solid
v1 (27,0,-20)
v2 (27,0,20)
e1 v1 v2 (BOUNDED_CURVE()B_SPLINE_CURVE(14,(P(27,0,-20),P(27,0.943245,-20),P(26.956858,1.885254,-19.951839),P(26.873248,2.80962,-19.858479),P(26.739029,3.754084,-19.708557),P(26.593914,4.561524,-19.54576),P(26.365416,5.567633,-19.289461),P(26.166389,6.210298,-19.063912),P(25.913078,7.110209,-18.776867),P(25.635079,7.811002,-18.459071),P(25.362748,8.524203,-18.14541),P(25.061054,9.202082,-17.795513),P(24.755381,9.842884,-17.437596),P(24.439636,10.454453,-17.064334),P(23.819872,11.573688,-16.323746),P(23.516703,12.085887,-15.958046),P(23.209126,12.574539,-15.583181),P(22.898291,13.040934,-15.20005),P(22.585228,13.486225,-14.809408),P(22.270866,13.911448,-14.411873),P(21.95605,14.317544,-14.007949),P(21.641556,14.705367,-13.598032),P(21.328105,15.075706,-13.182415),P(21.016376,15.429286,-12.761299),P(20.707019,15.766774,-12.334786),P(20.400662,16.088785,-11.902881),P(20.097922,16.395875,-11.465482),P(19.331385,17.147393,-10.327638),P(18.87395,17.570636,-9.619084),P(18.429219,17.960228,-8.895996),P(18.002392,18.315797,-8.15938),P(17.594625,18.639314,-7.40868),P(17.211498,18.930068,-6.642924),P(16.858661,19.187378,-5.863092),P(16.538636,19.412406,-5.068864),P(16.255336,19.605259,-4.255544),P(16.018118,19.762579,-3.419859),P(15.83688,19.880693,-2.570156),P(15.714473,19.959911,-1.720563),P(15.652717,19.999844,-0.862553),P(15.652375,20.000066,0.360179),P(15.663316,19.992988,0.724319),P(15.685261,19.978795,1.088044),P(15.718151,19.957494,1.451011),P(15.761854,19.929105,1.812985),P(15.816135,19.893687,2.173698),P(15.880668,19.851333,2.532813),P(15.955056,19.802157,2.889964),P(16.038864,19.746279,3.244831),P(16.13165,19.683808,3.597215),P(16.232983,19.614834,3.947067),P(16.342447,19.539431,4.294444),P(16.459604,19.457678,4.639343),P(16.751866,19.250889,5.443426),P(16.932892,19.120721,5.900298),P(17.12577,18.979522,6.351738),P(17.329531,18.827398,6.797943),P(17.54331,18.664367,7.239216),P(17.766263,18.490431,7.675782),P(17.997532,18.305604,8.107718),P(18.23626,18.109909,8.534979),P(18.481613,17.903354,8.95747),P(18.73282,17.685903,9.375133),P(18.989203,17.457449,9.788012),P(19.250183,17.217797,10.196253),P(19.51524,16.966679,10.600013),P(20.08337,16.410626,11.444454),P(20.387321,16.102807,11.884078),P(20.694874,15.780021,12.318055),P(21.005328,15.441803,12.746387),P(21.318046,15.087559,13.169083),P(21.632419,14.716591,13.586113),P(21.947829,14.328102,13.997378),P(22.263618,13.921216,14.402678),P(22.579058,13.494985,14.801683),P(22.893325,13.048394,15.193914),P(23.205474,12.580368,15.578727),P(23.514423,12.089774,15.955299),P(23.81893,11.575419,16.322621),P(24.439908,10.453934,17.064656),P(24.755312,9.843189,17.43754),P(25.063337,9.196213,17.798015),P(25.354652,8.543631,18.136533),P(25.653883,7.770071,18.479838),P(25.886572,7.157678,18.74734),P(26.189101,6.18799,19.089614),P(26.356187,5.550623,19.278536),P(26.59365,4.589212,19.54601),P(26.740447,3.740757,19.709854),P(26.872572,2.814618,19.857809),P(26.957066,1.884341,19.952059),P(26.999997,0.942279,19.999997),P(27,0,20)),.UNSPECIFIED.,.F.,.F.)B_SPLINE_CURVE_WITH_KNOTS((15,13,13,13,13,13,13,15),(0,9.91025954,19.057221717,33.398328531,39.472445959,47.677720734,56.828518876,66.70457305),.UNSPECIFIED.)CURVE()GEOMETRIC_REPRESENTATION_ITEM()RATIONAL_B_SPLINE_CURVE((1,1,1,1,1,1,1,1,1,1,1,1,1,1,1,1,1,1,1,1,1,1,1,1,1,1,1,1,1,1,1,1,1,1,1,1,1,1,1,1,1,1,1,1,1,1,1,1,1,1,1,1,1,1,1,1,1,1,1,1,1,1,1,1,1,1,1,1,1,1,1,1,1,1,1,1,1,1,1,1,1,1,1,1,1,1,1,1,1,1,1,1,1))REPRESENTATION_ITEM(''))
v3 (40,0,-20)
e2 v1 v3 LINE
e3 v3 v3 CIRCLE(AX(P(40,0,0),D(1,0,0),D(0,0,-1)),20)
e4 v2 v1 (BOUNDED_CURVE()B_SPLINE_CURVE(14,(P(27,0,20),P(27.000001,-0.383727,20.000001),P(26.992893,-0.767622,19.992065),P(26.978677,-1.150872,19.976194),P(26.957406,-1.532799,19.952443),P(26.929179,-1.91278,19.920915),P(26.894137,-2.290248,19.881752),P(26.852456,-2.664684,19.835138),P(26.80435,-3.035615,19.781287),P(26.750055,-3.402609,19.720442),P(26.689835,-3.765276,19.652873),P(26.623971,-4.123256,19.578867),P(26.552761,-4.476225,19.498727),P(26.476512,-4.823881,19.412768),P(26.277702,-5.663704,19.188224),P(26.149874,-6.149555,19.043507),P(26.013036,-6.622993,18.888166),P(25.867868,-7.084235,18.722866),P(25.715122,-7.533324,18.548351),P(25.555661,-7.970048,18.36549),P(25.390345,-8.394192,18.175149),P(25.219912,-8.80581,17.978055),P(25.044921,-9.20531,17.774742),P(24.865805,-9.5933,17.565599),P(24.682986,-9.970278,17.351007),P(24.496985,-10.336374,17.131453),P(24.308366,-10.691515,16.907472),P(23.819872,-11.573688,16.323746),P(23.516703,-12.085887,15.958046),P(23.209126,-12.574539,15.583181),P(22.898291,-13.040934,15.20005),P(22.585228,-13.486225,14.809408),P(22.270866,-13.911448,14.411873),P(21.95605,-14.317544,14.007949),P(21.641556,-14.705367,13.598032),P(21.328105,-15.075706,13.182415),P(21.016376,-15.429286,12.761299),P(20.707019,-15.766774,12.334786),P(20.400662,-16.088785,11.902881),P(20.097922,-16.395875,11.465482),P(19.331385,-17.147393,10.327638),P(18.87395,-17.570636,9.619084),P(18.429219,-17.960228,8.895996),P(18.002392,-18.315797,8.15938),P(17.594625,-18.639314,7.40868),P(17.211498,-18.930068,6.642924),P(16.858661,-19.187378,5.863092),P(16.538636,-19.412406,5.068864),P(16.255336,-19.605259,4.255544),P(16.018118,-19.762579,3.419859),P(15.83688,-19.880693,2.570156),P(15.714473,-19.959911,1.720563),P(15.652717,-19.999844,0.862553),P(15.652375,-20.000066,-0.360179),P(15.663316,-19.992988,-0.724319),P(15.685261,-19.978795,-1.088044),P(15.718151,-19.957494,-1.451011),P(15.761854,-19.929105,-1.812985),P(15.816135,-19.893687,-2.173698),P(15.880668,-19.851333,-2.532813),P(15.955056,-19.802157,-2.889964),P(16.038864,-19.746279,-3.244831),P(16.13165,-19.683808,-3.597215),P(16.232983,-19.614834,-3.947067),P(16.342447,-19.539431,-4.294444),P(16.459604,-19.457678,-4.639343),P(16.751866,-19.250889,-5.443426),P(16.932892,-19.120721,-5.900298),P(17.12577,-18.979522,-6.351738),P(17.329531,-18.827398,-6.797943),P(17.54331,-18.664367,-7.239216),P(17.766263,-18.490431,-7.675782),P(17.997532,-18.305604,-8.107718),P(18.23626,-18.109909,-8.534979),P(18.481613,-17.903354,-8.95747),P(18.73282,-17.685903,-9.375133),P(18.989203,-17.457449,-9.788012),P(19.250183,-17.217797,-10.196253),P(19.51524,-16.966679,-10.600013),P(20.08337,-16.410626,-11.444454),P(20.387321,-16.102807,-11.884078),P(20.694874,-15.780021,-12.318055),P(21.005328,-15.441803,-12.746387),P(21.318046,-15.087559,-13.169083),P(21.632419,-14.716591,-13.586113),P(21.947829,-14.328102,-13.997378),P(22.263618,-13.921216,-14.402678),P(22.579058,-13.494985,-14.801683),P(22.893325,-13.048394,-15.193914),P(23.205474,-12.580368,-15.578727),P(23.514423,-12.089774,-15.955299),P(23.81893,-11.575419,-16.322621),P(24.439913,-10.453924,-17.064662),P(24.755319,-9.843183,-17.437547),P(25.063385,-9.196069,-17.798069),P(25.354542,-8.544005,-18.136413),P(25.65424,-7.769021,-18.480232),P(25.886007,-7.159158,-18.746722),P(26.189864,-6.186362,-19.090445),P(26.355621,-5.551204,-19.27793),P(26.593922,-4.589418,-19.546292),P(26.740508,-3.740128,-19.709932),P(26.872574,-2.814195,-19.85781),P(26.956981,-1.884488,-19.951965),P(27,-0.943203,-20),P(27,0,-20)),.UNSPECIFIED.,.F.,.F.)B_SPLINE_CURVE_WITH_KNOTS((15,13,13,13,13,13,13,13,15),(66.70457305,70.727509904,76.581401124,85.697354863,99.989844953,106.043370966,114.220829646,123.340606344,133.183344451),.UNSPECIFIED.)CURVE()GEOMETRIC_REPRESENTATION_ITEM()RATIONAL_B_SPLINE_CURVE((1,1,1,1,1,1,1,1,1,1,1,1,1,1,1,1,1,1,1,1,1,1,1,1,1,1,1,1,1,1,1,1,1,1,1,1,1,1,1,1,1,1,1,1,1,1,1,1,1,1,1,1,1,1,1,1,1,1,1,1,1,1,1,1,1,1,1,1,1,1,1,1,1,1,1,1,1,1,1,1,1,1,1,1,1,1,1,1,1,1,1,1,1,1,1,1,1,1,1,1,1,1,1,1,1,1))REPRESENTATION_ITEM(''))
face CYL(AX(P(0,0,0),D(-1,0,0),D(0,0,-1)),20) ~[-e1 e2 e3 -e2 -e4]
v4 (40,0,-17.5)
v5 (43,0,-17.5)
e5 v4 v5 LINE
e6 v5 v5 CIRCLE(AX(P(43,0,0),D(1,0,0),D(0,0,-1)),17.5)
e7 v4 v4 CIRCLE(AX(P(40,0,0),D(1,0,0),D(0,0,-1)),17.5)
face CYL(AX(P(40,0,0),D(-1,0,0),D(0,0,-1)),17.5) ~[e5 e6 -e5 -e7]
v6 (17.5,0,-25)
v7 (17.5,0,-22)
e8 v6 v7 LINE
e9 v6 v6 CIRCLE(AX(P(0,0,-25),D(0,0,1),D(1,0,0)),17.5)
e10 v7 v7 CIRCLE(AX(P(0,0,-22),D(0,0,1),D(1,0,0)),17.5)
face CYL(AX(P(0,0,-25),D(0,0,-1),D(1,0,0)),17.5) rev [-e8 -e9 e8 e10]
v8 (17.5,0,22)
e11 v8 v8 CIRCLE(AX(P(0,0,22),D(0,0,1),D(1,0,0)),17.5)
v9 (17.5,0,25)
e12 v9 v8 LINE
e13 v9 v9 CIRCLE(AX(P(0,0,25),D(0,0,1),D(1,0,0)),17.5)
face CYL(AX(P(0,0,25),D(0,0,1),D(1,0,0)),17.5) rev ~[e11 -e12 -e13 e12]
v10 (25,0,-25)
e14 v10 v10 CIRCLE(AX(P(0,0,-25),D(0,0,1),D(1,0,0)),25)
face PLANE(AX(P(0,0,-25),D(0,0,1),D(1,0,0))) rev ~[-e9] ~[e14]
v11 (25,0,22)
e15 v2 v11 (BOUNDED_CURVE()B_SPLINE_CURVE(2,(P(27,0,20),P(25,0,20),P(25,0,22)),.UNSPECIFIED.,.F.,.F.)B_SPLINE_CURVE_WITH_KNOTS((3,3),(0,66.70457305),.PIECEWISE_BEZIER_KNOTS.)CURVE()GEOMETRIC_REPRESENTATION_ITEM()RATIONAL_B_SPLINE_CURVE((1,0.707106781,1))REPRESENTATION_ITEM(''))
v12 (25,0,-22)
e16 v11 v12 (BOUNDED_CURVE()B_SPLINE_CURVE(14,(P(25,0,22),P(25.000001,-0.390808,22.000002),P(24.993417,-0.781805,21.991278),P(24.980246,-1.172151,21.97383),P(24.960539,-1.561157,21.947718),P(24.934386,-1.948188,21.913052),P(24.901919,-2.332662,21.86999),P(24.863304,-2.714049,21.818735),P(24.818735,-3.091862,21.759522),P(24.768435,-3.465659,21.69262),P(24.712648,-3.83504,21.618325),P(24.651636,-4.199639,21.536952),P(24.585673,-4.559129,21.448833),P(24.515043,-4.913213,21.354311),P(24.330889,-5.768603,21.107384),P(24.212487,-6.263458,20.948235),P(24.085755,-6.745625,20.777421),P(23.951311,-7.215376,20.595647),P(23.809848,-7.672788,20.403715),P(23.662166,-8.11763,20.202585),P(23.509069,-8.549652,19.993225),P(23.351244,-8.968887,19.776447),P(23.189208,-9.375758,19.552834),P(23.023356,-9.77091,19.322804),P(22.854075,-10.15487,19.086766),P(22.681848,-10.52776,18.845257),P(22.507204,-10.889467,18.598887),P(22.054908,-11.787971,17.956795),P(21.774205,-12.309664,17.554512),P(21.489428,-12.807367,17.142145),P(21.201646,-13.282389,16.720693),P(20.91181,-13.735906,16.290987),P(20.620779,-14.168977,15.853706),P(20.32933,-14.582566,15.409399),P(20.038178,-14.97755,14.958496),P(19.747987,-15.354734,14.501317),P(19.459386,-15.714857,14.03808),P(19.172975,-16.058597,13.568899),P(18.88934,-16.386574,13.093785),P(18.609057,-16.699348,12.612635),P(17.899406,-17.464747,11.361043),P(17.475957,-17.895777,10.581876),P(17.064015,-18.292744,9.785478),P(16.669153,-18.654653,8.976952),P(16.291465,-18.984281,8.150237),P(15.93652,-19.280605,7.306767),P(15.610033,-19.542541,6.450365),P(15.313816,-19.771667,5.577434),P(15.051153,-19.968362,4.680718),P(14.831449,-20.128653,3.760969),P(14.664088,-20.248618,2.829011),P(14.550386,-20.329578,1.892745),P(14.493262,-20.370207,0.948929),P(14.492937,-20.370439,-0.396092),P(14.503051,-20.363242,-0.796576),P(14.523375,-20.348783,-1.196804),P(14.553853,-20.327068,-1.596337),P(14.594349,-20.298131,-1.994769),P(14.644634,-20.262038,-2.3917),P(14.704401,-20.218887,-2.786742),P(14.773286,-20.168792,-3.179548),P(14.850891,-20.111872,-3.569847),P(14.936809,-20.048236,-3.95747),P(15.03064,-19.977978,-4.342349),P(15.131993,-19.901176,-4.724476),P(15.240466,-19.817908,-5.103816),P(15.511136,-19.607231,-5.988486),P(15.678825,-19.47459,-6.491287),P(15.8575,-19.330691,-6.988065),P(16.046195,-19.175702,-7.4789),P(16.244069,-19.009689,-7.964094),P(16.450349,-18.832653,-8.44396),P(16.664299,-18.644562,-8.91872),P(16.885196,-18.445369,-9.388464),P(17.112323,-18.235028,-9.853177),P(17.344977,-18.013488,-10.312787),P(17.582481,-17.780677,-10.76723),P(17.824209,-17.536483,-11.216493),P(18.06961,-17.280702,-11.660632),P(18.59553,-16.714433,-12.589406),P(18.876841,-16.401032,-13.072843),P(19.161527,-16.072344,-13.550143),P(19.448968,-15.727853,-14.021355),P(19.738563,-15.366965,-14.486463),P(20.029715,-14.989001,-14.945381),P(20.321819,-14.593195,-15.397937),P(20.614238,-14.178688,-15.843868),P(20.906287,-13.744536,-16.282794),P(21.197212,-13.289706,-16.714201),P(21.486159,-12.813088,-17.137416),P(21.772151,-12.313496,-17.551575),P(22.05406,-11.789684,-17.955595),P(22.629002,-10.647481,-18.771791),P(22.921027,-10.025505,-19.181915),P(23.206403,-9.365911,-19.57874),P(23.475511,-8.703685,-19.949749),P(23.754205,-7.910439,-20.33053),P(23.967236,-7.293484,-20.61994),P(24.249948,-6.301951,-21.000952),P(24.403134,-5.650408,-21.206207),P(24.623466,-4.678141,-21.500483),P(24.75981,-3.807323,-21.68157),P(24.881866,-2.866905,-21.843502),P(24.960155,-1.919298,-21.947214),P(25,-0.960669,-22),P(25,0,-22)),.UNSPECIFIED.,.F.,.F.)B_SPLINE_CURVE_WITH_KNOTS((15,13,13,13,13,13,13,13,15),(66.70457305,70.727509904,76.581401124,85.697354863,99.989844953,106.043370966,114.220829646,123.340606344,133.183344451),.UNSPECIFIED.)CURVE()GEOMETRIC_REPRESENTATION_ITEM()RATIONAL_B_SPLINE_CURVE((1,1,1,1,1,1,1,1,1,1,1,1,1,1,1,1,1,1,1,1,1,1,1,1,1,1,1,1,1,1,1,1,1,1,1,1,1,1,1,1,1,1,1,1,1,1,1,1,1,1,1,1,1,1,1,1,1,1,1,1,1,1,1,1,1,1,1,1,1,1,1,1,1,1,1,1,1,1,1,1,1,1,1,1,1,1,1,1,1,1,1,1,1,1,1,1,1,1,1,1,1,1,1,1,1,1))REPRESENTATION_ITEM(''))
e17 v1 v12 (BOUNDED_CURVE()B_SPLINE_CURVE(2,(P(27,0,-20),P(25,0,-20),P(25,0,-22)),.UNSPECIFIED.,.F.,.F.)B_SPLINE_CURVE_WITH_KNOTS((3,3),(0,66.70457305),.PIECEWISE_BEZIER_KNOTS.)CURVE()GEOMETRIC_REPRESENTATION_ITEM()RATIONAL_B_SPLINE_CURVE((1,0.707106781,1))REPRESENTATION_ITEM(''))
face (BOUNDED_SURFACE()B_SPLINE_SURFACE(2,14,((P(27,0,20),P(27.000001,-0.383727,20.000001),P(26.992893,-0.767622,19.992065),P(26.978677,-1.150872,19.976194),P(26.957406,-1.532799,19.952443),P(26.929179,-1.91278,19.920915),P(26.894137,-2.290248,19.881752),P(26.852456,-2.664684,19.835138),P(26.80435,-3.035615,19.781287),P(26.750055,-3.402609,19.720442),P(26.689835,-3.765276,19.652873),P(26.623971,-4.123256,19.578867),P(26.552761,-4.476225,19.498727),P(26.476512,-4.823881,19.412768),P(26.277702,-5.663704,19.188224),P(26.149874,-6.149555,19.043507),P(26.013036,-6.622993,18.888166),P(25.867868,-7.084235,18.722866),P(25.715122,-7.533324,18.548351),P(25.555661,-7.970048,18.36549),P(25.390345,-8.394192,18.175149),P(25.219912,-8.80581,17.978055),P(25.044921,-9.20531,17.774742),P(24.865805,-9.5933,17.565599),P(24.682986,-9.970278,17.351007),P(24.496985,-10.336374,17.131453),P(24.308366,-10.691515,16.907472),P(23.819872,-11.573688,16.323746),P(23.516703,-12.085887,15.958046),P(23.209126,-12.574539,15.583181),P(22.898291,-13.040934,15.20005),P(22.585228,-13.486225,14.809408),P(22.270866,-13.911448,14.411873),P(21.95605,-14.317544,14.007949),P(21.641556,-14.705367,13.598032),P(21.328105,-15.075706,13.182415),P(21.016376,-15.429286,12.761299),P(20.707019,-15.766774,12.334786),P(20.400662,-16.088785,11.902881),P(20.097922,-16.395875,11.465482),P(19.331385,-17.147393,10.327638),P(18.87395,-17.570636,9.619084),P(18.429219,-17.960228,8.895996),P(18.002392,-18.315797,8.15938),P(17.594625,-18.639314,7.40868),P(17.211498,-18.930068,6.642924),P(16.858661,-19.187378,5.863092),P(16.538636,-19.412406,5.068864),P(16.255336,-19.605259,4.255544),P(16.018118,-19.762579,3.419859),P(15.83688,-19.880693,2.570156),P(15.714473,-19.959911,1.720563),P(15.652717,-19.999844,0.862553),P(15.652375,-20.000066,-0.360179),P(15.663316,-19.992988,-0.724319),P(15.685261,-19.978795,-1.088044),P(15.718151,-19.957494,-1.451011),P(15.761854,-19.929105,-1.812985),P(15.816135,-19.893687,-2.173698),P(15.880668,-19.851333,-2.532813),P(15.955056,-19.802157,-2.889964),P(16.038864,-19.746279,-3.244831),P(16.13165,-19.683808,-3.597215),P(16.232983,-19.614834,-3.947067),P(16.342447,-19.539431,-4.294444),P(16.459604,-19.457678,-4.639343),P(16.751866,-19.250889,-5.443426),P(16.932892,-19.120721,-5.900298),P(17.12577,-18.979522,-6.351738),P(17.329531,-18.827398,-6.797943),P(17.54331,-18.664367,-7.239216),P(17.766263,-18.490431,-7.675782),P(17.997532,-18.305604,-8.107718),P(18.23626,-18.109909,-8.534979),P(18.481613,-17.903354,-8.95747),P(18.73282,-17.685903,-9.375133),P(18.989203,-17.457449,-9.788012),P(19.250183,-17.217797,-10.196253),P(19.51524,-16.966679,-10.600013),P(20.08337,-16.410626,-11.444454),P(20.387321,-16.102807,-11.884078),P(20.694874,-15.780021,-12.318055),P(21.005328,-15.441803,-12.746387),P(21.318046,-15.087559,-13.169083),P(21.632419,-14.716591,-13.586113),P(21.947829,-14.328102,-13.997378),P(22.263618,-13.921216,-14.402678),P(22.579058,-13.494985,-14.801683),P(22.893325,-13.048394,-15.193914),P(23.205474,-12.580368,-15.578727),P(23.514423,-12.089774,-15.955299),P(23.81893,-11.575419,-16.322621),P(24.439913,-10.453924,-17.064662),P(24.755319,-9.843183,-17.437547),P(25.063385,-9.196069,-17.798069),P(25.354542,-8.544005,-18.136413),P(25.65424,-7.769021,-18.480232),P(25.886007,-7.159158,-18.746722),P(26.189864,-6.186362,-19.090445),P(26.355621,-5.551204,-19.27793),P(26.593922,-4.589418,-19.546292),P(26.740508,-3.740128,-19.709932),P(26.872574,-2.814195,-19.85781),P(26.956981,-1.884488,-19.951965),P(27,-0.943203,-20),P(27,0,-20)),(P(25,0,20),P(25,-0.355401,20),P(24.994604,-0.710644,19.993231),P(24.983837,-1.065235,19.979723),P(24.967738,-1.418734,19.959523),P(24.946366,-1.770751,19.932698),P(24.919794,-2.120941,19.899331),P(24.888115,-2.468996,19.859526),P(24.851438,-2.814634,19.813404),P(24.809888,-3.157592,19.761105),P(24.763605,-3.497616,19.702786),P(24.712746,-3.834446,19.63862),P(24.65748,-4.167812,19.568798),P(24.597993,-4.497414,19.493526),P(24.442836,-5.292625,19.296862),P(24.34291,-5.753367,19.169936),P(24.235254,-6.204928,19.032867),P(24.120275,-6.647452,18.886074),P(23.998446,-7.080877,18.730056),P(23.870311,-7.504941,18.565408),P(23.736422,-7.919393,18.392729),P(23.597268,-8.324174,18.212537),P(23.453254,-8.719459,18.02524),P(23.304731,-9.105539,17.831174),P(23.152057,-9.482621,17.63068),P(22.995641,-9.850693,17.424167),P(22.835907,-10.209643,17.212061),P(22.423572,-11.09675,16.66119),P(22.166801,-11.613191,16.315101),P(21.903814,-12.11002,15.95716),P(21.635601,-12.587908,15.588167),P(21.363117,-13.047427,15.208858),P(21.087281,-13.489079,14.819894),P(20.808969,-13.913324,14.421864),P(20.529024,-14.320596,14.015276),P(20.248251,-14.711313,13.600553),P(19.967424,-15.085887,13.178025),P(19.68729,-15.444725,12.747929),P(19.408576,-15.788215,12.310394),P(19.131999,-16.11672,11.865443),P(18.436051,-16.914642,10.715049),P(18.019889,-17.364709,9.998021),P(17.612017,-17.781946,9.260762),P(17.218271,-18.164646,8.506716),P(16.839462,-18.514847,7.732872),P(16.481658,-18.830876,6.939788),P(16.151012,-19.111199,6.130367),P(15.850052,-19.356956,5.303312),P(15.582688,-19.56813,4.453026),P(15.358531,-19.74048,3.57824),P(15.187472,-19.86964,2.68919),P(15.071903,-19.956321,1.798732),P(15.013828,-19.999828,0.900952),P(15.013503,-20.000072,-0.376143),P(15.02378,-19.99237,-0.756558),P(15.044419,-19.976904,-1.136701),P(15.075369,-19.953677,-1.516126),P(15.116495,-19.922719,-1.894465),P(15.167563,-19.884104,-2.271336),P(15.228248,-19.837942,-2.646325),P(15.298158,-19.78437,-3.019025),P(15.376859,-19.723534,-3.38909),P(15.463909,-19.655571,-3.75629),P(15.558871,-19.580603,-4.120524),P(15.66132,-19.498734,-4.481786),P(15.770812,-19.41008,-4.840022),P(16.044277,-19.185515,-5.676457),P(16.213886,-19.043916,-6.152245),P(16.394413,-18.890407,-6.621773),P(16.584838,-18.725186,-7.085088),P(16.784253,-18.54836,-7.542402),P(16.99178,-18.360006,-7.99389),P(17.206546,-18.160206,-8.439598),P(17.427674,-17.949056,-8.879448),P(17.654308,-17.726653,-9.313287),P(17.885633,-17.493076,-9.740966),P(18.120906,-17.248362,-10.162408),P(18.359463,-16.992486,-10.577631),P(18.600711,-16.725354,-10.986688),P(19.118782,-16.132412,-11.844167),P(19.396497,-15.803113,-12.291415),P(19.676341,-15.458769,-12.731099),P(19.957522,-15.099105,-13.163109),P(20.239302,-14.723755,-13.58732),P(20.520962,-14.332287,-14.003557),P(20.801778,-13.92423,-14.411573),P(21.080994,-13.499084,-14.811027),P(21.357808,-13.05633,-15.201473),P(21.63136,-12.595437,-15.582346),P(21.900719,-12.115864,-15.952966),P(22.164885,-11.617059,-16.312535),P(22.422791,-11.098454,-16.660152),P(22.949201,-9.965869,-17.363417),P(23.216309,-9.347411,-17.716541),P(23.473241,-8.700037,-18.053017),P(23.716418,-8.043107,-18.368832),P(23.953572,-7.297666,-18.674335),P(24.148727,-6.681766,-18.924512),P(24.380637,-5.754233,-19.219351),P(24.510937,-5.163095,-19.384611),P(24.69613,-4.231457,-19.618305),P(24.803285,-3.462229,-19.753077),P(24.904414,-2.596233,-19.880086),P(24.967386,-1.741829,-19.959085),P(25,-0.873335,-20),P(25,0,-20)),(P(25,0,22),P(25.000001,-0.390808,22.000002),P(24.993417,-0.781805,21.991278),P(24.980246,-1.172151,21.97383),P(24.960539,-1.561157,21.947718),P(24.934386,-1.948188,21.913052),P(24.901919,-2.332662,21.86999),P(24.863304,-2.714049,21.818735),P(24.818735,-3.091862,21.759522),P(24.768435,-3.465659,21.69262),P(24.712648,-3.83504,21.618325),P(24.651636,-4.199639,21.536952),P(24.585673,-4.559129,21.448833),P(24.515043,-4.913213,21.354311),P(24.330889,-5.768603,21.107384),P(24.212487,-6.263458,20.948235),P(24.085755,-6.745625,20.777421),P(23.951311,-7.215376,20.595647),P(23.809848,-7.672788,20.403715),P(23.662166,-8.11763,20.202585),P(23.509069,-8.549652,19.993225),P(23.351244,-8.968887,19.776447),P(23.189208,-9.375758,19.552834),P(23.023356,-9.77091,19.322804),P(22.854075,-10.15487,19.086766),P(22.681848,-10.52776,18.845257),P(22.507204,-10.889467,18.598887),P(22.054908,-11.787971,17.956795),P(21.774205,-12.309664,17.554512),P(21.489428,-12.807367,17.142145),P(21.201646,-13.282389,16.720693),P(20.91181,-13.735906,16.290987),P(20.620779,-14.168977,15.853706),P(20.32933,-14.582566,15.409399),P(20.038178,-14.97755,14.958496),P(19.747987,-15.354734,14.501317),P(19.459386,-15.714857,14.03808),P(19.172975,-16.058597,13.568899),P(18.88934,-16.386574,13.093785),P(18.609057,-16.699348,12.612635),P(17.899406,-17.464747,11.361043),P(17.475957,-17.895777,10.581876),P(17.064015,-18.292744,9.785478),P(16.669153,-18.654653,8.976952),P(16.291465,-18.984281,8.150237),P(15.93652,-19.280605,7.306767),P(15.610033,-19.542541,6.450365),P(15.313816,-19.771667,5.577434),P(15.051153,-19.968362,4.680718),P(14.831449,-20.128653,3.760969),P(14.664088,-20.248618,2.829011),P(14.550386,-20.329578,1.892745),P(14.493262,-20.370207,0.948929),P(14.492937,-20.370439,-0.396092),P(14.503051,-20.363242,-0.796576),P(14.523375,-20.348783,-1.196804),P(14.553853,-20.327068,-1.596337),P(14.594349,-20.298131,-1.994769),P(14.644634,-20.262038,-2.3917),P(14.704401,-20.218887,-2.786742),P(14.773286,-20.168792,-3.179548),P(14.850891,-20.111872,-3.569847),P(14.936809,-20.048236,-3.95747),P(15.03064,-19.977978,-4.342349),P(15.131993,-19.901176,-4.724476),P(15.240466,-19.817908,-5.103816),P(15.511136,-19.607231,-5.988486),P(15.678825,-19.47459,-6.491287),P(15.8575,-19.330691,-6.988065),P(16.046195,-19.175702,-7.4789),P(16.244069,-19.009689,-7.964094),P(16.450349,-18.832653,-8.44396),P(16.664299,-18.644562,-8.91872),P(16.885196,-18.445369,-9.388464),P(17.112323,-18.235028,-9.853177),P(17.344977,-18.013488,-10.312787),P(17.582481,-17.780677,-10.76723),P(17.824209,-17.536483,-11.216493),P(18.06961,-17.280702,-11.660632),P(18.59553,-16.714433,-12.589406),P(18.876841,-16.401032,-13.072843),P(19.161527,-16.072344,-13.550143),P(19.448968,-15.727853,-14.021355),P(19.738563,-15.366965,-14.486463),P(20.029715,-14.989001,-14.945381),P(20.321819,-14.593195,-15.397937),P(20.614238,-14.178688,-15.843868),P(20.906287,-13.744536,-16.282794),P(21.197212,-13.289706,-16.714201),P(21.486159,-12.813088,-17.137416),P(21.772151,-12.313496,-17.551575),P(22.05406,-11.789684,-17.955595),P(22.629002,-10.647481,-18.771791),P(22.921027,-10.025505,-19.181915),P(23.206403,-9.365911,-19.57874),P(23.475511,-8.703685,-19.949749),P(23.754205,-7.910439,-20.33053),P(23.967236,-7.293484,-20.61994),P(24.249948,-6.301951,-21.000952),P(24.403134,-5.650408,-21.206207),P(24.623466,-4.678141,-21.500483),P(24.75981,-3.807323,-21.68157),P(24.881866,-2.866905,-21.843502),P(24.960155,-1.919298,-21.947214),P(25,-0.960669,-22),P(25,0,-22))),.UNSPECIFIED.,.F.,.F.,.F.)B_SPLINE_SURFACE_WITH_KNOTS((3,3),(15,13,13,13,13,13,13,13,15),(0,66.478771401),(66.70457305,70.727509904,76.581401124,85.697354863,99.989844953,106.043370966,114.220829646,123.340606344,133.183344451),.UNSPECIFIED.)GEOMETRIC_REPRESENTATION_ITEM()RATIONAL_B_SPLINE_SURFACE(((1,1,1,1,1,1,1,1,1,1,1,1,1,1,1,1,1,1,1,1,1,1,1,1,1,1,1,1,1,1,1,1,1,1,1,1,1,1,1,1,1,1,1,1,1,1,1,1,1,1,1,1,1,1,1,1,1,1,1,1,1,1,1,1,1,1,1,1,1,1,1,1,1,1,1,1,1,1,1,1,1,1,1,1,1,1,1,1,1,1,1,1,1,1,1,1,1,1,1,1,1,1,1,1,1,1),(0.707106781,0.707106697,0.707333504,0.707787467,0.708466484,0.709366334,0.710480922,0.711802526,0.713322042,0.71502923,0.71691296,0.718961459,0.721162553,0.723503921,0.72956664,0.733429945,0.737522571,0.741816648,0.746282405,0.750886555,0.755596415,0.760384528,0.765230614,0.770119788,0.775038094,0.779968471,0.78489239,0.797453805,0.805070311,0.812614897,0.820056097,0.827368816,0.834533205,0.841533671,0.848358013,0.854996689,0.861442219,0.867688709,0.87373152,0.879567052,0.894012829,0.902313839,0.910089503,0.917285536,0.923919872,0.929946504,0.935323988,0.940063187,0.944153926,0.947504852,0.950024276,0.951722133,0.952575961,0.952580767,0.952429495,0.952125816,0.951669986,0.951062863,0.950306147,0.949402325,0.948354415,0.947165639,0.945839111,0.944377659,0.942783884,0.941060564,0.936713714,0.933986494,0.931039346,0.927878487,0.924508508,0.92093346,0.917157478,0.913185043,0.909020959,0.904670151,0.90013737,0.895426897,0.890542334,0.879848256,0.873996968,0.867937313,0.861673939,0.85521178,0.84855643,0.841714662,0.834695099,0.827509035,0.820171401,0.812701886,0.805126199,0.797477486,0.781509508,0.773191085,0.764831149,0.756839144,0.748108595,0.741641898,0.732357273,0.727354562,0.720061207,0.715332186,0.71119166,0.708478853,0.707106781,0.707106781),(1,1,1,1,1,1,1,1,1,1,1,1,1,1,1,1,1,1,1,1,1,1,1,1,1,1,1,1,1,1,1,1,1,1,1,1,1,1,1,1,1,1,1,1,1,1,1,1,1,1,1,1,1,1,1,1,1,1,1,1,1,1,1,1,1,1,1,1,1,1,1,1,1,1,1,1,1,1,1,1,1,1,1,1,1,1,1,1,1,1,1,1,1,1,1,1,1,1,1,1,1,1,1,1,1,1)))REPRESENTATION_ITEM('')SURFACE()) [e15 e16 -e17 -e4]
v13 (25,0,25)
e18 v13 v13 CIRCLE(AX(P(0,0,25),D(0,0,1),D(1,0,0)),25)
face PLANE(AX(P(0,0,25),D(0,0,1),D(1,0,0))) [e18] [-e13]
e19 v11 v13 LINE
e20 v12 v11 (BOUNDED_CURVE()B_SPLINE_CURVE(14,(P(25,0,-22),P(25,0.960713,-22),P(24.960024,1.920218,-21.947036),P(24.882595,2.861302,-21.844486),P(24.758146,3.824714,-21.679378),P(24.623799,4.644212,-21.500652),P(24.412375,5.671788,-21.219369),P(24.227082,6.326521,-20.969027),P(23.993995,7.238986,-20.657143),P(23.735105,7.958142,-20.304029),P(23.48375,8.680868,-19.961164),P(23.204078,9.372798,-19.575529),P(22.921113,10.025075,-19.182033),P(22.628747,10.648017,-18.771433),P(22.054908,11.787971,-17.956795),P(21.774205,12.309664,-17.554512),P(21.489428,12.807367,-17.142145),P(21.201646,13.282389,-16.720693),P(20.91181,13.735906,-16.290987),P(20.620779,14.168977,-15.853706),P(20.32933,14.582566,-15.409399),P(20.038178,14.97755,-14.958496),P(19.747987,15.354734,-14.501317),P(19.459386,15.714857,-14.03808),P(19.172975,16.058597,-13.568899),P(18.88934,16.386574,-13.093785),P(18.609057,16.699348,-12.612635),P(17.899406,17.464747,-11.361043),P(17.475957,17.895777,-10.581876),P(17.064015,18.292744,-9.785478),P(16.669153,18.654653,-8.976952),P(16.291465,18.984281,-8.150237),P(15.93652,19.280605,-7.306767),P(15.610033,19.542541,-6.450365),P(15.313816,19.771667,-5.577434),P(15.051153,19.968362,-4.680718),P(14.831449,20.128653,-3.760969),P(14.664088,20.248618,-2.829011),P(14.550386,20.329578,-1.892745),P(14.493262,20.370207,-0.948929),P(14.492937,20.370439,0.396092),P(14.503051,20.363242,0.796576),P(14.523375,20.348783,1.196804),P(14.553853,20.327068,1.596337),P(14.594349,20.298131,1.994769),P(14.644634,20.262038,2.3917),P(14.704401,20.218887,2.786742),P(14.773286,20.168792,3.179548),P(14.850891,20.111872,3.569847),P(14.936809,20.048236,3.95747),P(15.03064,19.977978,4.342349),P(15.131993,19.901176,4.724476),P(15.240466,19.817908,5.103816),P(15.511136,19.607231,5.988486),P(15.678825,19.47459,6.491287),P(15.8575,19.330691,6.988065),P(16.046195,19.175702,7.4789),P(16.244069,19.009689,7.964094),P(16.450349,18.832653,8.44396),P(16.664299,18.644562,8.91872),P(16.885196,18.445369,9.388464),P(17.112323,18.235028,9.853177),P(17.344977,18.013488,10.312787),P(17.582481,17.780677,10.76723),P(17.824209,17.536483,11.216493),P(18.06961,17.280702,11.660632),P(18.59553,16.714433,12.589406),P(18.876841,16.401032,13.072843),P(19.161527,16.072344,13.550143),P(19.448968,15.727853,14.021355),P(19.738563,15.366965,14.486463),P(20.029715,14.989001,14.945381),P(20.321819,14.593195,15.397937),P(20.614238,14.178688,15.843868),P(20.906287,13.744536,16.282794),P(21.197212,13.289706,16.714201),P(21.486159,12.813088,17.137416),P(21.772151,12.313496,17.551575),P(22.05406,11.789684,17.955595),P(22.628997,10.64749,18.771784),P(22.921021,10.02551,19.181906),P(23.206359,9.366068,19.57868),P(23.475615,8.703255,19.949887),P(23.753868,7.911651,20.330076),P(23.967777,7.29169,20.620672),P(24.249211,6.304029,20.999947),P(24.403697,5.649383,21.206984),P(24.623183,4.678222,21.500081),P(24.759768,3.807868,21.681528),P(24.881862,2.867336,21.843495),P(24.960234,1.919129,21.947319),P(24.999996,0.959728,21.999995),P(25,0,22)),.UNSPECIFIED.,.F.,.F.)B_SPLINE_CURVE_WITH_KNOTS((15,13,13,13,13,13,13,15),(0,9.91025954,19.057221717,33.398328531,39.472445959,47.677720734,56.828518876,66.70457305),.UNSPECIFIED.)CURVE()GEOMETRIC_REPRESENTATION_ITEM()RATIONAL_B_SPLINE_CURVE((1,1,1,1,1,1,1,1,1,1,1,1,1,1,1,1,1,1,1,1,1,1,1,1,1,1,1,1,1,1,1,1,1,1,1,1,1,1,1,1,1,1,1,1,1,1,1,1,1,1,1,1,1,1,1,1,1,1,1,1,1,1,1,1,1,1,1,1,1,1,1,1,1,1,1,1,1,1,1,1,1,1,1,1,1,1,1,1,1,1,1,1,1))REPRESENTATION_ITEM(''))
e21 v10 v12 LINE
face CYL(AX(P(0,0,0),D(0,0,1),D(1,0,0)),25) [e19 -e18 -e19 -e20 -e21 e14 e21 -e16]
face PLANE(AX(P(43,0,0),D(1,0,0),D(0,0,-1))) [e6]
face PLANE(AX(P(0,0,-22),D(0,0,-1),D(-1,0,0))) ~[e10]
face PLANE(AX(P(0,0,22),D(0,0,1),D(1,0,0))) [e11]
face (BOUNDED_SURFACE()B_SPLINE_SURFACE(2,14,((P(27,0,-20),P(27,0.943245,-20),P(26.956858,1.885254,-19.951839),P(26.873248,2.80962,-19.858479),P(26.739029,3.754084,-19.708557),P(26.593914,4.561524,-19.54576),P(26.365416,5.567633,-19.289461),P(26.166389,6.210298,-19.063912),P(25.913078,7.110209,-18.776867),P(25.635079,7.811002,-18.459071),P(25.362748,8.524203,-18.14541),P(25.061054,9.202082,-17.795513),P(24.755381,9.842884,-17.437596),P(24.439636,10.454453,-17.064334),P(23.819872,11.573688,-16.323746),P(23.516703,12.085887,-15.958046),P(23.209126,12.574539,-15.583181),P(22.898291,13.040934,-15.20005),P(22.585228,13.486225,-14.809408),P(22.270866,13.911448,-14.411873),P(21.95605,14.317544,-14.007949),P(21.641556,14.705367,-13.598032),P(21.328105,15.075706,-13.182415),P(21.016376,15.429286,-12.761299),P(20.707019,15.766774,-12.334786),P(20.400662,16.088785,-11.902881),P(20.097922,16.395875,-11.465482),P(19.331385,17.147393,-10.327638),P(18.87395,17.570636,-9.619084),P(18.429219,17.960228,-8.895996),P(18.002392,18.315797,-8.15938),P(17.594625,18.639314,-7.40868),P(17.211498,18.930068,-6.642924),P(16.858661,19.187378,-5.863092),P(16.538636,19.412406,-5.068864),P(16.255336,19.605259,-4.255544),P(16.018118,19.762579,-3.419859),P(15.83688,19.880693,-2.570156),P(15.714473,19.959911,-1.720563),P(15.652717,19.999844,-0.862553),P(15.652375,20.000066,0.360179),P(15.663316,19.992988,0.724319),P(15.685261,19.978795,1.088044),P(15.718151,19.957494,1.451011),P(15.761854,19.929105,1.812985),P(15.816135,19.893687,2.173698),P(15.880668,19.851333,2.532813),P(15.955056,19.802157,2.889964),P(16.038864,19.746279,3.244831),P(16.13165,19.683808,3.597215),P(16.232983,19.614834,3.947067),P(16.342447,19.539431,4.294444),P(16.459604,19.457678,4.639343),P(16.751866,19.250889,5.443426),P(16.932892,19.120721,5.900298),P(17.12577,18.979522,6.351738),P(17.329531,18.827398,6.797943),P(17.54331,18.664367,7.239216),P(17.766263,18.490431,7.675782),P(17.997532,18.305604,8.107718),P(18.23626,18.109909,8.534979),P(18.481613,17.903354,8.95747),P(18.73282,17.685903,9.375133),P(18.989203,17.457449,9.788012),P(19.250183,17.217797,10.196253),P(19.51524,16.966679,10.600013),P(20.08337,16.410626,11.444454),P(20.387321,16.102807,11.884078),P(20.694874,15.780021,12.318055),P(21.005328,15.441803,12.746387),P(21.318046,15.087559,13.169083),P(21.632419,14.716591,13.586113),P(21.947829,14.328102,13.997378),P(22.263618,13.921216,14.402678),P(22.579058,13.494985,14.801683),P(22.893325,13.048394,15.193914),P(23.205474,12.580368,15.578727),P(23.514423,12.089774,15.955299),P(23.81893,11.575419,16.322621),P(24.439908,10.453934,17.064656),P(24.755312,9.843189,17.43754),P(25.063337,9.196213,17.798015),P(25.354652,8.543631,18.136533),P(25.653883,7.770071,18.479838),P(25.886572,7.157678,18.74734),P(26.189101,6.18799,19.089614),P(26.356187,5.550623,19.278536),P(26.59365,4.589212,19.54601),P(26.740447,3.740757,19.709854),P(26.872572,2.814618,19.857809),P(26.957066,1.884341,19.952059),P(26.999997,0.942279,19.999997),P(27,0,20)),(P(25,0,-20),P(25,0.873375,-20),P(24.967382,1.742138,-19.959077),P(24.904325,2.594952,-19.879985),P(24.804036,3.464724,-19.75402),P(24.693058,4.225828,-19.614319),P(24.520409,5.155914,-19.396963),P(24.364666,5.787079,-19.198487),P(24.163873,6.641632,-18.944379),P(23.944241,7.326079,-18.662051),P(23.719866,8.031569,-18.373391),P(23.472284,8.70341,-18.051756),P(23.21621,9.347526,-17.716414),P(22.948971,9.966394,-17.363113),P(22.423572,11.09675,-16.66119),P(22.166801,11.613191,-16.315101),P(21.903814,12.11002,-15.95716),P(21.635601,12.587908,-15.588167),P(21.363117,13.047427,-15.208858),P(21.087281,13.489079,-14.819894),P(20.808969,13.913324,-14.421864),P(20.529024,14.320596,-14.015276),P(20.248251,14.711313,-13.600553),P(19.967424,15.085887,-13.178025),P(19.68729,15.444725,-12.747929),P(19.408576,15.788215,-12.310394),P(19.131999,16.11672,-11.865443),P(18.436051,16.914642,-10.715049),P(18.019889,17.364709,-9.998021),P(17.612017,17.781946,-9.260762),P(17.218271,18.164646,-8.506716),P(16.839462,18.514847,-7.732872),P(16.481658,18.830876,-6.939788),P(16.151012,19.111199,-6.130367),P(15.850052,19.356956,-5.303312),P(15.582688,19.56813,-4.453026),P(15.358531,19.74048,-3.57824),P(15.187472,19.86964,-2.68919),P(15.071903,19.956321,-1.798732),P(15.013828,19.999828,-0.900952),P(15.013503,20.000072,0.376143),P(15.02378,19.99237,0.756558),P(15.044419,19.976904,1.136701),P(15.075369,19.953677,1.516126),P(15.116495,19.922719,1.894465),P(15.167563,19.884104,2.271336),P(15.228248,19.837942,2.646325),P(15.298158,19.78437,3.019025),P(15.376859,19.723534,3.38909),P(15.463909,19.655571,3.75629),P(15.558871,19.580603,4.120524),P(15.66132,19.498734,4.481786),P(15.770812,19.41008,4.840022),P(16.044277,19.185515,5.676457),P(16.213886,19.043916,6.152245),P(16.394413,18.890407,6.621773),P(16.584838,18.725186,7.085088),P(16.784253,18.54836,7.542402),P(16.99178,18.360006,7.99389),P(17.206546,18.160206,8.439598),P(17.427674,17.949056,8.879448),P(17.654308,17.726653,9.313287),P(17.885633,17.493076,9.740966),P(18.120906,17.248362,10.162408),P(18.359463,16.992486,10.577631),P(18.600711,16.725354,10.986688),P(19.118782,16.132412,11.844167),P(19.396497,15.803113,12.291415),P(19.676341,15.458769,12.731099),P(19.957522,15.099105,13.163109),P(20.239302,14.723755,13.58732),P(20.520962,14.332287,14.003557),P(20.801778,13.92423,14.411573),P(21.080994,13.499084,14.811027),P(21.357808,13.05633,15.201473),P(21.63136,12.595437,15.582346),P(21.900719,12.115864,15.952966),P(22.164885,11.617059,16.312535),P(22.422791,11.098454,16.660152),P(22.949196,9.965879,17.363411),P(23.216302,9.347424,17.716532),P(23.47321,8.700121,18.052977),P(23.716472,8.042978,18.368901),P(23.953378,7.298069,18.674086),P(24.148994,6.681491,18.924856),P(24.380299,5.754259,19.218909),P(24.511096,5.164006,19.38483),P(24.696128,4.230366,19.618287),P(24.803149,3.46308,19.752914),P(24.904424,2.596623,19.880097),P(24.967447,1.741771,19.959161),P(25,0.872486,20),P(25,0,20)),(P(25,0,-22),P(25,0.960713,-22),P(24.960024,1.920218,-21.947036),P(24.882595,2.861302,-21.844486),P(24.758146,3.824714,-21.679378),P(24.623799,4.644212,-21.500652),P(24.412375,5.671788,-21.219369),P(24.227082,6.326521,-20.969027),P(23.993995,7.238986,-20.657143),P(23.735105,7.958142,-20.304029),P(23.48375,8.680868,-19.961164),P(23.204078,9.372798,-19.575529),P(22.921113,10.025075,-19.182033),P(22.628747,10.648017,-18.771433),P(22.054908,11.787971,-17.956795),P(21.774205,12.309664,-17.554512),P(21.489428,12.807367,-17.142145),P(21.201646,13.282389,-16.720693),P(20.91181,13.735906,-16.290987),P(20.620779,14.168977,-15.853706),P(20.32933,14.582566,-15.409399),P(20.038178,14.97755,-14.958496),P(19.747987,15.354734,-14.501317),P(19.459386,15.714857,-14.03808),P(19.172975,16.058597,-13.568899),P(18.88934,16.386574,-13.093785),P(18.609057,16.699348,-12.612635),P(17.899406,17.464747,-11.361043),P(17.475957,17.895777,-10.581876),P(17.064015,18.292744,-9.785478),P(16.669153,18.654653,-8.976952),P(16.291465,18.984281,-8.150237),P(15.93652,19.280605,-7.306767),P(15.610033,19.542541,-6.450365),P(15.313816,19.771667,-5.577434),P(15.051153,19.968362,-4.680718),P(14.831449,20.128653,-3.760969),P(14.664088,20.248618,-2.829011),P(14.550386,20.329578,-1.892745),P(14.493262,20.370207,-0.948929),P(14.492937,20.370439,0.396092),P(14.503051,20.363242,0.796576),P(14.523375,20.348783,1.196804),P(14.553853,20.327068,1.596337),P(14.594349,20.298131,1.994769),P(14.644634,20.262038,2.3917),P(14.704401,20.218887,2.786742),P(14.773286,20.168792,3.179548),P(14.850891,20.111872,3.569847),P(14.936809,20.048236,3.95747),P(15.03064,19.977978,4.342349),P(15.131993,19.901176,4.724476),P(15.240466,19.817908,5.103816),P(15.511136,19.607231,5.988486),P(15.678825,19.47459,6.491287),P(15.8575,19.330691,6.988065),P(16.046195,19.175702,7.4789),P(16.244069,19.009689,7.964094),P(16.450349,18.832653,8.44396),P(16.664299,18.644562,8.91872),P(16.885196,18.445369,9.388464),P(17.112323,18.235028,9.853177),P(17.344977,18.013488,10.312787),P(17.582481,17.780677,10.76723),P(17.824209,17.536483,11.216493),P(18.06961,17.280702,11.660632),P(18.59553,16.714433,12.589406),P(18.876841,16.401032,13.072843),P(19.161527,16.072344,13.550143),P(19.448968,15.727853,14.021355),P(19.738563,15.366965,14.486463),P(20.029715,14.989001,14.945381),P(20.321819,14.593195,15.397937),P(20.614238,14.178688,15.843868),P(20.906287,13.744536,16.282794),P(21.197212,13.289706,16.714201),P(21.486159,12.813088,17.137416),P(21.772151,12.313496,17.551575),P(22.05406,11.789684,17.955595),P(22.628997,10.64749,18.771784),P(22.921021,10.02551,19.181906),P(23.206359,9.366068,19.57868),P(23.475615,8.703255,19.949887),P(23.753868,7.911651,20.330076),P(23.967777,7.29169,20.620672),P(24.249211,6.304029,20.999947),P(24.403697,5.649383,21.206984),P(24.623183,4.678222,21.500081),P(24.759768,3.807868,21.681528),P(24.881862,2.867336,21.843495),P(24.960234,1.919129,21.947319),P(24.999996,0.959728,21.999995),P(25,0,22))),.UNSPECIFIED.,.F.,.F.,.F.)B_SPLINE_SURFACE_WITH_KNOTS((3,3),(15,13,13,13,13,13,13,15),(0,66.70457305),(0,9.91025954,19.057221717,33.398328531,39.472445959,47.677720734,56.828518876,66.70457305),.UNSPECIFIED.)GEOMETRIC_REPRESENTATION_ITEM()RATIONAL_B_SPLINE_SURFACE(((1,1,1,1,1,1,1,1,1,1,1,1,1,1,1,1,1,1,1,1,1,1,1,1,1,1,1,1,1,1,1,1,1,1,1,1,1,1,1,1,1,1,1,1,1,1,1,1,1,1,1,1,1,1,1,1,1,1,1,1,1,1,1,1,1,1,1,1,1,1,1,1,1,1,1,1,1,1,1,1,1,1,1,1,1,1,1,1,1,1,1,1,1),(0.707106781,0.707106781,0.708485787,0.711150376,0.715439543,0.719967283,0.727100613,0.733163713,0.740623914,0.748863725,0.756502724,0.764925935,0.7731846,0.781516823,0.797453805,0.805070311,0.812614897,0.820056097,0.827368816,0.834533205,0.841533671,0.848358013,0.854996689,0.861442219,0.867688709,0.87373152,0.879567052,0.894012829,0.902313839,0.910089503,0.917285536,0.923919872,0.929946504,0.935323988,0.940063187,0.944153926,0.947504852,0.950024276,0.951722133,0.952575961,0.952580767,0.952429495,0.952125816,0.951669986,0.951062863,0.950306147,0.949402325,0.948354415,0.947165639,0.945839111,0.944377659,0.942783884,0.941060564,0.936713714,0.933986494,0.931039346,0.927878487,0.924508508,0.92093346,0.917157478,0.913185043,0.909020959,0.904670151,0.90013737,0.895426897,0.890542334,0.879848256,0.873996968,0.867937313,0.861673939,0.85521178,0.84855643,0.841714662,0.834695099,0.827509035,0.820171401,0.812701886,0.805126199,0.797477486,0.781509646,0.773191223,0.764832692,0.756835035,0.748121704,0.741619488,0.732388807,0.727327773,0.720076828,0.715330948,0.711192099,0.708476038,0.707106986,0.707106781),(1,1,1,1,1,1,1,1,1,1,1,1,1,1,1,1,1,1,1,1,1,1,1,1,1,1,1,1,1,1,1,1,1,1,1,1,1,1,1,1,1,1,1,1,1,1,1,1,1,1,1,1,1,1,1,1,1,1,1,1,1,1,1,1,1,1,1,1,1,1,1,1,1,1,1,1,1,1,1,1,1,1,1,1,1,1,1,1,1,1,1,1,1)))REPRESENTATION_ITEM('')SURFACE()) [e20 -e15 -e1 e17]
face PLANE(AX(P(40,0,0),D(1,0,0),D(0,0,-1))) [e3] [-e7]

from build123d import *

# Parameters (mm, degrees)
SKETCH1_R           = 25
BOSS_EXTRUDE1_DEPTH = 25
SKETCH2_R           = 17.5
CUT_EXTRUDE1_DEPTH  = 3
SKETCH3_R           = 20
BOSS_EXTRUDE2_DEPTH = 40
SKETCH4_R           = 17.5
BOSS_EXTRUDE3_DEPTH = 3
FILLET1_R           = 2


with BuildPart() as part:
    # Sketch1 → Boss-Extrude1 (new body, symmetric)
    with BuildSketch(Plane.XY):
        Circle(SKETCH1_R)
    extrude(amount=BOSS_EXTRUDE1_DEPTH, both=True)

    # Sketch2 → Cut-Extrude1 (cut)
    with BuildSketch(Plane.XY.offset(25)):
        Circle(SKETCH2_R)
    cut_extrude1 = extrude(amount=-CUT_EXTRUDE1_DEPTH, mode=Mode.SUBTRACT)

    # Mirror1: Cut-Extrude1 across plane
    add(cut_extrude1.mirror(Plane.XY), mode=Mode.SUBTRACT)

    # Sketch3 → Boss-Extrude2 (add)
    with BuildSketch(Plane(origin=(0, 0, 0), x_dir=(0, 0, -1), z_dir=(1, 0, 0))):
        Circle(SKETCH3_R)
    extrude(amount=BOSS_EXTRUDE2_DEPTH)

    # Sketch4 → Boss-Extrude3 (add)
    with BuildSketch(Plane(origin=(40, 0, 0), x_dir=(0, 0, -1), z_dir=(1, 0, 0))):
        Circle(SKETCH4_R)
    extrude(amount=BOSS_EXTRUDE3_DEPTH)

    # Fillet1
    fillet1_edges = [part.edges().sort_by_distance(p)[0] for p in [
        (15, 20, 0),
    ]]
    fillet(fillet1_edges, radius=FILLET1_R)


solid = part.part
